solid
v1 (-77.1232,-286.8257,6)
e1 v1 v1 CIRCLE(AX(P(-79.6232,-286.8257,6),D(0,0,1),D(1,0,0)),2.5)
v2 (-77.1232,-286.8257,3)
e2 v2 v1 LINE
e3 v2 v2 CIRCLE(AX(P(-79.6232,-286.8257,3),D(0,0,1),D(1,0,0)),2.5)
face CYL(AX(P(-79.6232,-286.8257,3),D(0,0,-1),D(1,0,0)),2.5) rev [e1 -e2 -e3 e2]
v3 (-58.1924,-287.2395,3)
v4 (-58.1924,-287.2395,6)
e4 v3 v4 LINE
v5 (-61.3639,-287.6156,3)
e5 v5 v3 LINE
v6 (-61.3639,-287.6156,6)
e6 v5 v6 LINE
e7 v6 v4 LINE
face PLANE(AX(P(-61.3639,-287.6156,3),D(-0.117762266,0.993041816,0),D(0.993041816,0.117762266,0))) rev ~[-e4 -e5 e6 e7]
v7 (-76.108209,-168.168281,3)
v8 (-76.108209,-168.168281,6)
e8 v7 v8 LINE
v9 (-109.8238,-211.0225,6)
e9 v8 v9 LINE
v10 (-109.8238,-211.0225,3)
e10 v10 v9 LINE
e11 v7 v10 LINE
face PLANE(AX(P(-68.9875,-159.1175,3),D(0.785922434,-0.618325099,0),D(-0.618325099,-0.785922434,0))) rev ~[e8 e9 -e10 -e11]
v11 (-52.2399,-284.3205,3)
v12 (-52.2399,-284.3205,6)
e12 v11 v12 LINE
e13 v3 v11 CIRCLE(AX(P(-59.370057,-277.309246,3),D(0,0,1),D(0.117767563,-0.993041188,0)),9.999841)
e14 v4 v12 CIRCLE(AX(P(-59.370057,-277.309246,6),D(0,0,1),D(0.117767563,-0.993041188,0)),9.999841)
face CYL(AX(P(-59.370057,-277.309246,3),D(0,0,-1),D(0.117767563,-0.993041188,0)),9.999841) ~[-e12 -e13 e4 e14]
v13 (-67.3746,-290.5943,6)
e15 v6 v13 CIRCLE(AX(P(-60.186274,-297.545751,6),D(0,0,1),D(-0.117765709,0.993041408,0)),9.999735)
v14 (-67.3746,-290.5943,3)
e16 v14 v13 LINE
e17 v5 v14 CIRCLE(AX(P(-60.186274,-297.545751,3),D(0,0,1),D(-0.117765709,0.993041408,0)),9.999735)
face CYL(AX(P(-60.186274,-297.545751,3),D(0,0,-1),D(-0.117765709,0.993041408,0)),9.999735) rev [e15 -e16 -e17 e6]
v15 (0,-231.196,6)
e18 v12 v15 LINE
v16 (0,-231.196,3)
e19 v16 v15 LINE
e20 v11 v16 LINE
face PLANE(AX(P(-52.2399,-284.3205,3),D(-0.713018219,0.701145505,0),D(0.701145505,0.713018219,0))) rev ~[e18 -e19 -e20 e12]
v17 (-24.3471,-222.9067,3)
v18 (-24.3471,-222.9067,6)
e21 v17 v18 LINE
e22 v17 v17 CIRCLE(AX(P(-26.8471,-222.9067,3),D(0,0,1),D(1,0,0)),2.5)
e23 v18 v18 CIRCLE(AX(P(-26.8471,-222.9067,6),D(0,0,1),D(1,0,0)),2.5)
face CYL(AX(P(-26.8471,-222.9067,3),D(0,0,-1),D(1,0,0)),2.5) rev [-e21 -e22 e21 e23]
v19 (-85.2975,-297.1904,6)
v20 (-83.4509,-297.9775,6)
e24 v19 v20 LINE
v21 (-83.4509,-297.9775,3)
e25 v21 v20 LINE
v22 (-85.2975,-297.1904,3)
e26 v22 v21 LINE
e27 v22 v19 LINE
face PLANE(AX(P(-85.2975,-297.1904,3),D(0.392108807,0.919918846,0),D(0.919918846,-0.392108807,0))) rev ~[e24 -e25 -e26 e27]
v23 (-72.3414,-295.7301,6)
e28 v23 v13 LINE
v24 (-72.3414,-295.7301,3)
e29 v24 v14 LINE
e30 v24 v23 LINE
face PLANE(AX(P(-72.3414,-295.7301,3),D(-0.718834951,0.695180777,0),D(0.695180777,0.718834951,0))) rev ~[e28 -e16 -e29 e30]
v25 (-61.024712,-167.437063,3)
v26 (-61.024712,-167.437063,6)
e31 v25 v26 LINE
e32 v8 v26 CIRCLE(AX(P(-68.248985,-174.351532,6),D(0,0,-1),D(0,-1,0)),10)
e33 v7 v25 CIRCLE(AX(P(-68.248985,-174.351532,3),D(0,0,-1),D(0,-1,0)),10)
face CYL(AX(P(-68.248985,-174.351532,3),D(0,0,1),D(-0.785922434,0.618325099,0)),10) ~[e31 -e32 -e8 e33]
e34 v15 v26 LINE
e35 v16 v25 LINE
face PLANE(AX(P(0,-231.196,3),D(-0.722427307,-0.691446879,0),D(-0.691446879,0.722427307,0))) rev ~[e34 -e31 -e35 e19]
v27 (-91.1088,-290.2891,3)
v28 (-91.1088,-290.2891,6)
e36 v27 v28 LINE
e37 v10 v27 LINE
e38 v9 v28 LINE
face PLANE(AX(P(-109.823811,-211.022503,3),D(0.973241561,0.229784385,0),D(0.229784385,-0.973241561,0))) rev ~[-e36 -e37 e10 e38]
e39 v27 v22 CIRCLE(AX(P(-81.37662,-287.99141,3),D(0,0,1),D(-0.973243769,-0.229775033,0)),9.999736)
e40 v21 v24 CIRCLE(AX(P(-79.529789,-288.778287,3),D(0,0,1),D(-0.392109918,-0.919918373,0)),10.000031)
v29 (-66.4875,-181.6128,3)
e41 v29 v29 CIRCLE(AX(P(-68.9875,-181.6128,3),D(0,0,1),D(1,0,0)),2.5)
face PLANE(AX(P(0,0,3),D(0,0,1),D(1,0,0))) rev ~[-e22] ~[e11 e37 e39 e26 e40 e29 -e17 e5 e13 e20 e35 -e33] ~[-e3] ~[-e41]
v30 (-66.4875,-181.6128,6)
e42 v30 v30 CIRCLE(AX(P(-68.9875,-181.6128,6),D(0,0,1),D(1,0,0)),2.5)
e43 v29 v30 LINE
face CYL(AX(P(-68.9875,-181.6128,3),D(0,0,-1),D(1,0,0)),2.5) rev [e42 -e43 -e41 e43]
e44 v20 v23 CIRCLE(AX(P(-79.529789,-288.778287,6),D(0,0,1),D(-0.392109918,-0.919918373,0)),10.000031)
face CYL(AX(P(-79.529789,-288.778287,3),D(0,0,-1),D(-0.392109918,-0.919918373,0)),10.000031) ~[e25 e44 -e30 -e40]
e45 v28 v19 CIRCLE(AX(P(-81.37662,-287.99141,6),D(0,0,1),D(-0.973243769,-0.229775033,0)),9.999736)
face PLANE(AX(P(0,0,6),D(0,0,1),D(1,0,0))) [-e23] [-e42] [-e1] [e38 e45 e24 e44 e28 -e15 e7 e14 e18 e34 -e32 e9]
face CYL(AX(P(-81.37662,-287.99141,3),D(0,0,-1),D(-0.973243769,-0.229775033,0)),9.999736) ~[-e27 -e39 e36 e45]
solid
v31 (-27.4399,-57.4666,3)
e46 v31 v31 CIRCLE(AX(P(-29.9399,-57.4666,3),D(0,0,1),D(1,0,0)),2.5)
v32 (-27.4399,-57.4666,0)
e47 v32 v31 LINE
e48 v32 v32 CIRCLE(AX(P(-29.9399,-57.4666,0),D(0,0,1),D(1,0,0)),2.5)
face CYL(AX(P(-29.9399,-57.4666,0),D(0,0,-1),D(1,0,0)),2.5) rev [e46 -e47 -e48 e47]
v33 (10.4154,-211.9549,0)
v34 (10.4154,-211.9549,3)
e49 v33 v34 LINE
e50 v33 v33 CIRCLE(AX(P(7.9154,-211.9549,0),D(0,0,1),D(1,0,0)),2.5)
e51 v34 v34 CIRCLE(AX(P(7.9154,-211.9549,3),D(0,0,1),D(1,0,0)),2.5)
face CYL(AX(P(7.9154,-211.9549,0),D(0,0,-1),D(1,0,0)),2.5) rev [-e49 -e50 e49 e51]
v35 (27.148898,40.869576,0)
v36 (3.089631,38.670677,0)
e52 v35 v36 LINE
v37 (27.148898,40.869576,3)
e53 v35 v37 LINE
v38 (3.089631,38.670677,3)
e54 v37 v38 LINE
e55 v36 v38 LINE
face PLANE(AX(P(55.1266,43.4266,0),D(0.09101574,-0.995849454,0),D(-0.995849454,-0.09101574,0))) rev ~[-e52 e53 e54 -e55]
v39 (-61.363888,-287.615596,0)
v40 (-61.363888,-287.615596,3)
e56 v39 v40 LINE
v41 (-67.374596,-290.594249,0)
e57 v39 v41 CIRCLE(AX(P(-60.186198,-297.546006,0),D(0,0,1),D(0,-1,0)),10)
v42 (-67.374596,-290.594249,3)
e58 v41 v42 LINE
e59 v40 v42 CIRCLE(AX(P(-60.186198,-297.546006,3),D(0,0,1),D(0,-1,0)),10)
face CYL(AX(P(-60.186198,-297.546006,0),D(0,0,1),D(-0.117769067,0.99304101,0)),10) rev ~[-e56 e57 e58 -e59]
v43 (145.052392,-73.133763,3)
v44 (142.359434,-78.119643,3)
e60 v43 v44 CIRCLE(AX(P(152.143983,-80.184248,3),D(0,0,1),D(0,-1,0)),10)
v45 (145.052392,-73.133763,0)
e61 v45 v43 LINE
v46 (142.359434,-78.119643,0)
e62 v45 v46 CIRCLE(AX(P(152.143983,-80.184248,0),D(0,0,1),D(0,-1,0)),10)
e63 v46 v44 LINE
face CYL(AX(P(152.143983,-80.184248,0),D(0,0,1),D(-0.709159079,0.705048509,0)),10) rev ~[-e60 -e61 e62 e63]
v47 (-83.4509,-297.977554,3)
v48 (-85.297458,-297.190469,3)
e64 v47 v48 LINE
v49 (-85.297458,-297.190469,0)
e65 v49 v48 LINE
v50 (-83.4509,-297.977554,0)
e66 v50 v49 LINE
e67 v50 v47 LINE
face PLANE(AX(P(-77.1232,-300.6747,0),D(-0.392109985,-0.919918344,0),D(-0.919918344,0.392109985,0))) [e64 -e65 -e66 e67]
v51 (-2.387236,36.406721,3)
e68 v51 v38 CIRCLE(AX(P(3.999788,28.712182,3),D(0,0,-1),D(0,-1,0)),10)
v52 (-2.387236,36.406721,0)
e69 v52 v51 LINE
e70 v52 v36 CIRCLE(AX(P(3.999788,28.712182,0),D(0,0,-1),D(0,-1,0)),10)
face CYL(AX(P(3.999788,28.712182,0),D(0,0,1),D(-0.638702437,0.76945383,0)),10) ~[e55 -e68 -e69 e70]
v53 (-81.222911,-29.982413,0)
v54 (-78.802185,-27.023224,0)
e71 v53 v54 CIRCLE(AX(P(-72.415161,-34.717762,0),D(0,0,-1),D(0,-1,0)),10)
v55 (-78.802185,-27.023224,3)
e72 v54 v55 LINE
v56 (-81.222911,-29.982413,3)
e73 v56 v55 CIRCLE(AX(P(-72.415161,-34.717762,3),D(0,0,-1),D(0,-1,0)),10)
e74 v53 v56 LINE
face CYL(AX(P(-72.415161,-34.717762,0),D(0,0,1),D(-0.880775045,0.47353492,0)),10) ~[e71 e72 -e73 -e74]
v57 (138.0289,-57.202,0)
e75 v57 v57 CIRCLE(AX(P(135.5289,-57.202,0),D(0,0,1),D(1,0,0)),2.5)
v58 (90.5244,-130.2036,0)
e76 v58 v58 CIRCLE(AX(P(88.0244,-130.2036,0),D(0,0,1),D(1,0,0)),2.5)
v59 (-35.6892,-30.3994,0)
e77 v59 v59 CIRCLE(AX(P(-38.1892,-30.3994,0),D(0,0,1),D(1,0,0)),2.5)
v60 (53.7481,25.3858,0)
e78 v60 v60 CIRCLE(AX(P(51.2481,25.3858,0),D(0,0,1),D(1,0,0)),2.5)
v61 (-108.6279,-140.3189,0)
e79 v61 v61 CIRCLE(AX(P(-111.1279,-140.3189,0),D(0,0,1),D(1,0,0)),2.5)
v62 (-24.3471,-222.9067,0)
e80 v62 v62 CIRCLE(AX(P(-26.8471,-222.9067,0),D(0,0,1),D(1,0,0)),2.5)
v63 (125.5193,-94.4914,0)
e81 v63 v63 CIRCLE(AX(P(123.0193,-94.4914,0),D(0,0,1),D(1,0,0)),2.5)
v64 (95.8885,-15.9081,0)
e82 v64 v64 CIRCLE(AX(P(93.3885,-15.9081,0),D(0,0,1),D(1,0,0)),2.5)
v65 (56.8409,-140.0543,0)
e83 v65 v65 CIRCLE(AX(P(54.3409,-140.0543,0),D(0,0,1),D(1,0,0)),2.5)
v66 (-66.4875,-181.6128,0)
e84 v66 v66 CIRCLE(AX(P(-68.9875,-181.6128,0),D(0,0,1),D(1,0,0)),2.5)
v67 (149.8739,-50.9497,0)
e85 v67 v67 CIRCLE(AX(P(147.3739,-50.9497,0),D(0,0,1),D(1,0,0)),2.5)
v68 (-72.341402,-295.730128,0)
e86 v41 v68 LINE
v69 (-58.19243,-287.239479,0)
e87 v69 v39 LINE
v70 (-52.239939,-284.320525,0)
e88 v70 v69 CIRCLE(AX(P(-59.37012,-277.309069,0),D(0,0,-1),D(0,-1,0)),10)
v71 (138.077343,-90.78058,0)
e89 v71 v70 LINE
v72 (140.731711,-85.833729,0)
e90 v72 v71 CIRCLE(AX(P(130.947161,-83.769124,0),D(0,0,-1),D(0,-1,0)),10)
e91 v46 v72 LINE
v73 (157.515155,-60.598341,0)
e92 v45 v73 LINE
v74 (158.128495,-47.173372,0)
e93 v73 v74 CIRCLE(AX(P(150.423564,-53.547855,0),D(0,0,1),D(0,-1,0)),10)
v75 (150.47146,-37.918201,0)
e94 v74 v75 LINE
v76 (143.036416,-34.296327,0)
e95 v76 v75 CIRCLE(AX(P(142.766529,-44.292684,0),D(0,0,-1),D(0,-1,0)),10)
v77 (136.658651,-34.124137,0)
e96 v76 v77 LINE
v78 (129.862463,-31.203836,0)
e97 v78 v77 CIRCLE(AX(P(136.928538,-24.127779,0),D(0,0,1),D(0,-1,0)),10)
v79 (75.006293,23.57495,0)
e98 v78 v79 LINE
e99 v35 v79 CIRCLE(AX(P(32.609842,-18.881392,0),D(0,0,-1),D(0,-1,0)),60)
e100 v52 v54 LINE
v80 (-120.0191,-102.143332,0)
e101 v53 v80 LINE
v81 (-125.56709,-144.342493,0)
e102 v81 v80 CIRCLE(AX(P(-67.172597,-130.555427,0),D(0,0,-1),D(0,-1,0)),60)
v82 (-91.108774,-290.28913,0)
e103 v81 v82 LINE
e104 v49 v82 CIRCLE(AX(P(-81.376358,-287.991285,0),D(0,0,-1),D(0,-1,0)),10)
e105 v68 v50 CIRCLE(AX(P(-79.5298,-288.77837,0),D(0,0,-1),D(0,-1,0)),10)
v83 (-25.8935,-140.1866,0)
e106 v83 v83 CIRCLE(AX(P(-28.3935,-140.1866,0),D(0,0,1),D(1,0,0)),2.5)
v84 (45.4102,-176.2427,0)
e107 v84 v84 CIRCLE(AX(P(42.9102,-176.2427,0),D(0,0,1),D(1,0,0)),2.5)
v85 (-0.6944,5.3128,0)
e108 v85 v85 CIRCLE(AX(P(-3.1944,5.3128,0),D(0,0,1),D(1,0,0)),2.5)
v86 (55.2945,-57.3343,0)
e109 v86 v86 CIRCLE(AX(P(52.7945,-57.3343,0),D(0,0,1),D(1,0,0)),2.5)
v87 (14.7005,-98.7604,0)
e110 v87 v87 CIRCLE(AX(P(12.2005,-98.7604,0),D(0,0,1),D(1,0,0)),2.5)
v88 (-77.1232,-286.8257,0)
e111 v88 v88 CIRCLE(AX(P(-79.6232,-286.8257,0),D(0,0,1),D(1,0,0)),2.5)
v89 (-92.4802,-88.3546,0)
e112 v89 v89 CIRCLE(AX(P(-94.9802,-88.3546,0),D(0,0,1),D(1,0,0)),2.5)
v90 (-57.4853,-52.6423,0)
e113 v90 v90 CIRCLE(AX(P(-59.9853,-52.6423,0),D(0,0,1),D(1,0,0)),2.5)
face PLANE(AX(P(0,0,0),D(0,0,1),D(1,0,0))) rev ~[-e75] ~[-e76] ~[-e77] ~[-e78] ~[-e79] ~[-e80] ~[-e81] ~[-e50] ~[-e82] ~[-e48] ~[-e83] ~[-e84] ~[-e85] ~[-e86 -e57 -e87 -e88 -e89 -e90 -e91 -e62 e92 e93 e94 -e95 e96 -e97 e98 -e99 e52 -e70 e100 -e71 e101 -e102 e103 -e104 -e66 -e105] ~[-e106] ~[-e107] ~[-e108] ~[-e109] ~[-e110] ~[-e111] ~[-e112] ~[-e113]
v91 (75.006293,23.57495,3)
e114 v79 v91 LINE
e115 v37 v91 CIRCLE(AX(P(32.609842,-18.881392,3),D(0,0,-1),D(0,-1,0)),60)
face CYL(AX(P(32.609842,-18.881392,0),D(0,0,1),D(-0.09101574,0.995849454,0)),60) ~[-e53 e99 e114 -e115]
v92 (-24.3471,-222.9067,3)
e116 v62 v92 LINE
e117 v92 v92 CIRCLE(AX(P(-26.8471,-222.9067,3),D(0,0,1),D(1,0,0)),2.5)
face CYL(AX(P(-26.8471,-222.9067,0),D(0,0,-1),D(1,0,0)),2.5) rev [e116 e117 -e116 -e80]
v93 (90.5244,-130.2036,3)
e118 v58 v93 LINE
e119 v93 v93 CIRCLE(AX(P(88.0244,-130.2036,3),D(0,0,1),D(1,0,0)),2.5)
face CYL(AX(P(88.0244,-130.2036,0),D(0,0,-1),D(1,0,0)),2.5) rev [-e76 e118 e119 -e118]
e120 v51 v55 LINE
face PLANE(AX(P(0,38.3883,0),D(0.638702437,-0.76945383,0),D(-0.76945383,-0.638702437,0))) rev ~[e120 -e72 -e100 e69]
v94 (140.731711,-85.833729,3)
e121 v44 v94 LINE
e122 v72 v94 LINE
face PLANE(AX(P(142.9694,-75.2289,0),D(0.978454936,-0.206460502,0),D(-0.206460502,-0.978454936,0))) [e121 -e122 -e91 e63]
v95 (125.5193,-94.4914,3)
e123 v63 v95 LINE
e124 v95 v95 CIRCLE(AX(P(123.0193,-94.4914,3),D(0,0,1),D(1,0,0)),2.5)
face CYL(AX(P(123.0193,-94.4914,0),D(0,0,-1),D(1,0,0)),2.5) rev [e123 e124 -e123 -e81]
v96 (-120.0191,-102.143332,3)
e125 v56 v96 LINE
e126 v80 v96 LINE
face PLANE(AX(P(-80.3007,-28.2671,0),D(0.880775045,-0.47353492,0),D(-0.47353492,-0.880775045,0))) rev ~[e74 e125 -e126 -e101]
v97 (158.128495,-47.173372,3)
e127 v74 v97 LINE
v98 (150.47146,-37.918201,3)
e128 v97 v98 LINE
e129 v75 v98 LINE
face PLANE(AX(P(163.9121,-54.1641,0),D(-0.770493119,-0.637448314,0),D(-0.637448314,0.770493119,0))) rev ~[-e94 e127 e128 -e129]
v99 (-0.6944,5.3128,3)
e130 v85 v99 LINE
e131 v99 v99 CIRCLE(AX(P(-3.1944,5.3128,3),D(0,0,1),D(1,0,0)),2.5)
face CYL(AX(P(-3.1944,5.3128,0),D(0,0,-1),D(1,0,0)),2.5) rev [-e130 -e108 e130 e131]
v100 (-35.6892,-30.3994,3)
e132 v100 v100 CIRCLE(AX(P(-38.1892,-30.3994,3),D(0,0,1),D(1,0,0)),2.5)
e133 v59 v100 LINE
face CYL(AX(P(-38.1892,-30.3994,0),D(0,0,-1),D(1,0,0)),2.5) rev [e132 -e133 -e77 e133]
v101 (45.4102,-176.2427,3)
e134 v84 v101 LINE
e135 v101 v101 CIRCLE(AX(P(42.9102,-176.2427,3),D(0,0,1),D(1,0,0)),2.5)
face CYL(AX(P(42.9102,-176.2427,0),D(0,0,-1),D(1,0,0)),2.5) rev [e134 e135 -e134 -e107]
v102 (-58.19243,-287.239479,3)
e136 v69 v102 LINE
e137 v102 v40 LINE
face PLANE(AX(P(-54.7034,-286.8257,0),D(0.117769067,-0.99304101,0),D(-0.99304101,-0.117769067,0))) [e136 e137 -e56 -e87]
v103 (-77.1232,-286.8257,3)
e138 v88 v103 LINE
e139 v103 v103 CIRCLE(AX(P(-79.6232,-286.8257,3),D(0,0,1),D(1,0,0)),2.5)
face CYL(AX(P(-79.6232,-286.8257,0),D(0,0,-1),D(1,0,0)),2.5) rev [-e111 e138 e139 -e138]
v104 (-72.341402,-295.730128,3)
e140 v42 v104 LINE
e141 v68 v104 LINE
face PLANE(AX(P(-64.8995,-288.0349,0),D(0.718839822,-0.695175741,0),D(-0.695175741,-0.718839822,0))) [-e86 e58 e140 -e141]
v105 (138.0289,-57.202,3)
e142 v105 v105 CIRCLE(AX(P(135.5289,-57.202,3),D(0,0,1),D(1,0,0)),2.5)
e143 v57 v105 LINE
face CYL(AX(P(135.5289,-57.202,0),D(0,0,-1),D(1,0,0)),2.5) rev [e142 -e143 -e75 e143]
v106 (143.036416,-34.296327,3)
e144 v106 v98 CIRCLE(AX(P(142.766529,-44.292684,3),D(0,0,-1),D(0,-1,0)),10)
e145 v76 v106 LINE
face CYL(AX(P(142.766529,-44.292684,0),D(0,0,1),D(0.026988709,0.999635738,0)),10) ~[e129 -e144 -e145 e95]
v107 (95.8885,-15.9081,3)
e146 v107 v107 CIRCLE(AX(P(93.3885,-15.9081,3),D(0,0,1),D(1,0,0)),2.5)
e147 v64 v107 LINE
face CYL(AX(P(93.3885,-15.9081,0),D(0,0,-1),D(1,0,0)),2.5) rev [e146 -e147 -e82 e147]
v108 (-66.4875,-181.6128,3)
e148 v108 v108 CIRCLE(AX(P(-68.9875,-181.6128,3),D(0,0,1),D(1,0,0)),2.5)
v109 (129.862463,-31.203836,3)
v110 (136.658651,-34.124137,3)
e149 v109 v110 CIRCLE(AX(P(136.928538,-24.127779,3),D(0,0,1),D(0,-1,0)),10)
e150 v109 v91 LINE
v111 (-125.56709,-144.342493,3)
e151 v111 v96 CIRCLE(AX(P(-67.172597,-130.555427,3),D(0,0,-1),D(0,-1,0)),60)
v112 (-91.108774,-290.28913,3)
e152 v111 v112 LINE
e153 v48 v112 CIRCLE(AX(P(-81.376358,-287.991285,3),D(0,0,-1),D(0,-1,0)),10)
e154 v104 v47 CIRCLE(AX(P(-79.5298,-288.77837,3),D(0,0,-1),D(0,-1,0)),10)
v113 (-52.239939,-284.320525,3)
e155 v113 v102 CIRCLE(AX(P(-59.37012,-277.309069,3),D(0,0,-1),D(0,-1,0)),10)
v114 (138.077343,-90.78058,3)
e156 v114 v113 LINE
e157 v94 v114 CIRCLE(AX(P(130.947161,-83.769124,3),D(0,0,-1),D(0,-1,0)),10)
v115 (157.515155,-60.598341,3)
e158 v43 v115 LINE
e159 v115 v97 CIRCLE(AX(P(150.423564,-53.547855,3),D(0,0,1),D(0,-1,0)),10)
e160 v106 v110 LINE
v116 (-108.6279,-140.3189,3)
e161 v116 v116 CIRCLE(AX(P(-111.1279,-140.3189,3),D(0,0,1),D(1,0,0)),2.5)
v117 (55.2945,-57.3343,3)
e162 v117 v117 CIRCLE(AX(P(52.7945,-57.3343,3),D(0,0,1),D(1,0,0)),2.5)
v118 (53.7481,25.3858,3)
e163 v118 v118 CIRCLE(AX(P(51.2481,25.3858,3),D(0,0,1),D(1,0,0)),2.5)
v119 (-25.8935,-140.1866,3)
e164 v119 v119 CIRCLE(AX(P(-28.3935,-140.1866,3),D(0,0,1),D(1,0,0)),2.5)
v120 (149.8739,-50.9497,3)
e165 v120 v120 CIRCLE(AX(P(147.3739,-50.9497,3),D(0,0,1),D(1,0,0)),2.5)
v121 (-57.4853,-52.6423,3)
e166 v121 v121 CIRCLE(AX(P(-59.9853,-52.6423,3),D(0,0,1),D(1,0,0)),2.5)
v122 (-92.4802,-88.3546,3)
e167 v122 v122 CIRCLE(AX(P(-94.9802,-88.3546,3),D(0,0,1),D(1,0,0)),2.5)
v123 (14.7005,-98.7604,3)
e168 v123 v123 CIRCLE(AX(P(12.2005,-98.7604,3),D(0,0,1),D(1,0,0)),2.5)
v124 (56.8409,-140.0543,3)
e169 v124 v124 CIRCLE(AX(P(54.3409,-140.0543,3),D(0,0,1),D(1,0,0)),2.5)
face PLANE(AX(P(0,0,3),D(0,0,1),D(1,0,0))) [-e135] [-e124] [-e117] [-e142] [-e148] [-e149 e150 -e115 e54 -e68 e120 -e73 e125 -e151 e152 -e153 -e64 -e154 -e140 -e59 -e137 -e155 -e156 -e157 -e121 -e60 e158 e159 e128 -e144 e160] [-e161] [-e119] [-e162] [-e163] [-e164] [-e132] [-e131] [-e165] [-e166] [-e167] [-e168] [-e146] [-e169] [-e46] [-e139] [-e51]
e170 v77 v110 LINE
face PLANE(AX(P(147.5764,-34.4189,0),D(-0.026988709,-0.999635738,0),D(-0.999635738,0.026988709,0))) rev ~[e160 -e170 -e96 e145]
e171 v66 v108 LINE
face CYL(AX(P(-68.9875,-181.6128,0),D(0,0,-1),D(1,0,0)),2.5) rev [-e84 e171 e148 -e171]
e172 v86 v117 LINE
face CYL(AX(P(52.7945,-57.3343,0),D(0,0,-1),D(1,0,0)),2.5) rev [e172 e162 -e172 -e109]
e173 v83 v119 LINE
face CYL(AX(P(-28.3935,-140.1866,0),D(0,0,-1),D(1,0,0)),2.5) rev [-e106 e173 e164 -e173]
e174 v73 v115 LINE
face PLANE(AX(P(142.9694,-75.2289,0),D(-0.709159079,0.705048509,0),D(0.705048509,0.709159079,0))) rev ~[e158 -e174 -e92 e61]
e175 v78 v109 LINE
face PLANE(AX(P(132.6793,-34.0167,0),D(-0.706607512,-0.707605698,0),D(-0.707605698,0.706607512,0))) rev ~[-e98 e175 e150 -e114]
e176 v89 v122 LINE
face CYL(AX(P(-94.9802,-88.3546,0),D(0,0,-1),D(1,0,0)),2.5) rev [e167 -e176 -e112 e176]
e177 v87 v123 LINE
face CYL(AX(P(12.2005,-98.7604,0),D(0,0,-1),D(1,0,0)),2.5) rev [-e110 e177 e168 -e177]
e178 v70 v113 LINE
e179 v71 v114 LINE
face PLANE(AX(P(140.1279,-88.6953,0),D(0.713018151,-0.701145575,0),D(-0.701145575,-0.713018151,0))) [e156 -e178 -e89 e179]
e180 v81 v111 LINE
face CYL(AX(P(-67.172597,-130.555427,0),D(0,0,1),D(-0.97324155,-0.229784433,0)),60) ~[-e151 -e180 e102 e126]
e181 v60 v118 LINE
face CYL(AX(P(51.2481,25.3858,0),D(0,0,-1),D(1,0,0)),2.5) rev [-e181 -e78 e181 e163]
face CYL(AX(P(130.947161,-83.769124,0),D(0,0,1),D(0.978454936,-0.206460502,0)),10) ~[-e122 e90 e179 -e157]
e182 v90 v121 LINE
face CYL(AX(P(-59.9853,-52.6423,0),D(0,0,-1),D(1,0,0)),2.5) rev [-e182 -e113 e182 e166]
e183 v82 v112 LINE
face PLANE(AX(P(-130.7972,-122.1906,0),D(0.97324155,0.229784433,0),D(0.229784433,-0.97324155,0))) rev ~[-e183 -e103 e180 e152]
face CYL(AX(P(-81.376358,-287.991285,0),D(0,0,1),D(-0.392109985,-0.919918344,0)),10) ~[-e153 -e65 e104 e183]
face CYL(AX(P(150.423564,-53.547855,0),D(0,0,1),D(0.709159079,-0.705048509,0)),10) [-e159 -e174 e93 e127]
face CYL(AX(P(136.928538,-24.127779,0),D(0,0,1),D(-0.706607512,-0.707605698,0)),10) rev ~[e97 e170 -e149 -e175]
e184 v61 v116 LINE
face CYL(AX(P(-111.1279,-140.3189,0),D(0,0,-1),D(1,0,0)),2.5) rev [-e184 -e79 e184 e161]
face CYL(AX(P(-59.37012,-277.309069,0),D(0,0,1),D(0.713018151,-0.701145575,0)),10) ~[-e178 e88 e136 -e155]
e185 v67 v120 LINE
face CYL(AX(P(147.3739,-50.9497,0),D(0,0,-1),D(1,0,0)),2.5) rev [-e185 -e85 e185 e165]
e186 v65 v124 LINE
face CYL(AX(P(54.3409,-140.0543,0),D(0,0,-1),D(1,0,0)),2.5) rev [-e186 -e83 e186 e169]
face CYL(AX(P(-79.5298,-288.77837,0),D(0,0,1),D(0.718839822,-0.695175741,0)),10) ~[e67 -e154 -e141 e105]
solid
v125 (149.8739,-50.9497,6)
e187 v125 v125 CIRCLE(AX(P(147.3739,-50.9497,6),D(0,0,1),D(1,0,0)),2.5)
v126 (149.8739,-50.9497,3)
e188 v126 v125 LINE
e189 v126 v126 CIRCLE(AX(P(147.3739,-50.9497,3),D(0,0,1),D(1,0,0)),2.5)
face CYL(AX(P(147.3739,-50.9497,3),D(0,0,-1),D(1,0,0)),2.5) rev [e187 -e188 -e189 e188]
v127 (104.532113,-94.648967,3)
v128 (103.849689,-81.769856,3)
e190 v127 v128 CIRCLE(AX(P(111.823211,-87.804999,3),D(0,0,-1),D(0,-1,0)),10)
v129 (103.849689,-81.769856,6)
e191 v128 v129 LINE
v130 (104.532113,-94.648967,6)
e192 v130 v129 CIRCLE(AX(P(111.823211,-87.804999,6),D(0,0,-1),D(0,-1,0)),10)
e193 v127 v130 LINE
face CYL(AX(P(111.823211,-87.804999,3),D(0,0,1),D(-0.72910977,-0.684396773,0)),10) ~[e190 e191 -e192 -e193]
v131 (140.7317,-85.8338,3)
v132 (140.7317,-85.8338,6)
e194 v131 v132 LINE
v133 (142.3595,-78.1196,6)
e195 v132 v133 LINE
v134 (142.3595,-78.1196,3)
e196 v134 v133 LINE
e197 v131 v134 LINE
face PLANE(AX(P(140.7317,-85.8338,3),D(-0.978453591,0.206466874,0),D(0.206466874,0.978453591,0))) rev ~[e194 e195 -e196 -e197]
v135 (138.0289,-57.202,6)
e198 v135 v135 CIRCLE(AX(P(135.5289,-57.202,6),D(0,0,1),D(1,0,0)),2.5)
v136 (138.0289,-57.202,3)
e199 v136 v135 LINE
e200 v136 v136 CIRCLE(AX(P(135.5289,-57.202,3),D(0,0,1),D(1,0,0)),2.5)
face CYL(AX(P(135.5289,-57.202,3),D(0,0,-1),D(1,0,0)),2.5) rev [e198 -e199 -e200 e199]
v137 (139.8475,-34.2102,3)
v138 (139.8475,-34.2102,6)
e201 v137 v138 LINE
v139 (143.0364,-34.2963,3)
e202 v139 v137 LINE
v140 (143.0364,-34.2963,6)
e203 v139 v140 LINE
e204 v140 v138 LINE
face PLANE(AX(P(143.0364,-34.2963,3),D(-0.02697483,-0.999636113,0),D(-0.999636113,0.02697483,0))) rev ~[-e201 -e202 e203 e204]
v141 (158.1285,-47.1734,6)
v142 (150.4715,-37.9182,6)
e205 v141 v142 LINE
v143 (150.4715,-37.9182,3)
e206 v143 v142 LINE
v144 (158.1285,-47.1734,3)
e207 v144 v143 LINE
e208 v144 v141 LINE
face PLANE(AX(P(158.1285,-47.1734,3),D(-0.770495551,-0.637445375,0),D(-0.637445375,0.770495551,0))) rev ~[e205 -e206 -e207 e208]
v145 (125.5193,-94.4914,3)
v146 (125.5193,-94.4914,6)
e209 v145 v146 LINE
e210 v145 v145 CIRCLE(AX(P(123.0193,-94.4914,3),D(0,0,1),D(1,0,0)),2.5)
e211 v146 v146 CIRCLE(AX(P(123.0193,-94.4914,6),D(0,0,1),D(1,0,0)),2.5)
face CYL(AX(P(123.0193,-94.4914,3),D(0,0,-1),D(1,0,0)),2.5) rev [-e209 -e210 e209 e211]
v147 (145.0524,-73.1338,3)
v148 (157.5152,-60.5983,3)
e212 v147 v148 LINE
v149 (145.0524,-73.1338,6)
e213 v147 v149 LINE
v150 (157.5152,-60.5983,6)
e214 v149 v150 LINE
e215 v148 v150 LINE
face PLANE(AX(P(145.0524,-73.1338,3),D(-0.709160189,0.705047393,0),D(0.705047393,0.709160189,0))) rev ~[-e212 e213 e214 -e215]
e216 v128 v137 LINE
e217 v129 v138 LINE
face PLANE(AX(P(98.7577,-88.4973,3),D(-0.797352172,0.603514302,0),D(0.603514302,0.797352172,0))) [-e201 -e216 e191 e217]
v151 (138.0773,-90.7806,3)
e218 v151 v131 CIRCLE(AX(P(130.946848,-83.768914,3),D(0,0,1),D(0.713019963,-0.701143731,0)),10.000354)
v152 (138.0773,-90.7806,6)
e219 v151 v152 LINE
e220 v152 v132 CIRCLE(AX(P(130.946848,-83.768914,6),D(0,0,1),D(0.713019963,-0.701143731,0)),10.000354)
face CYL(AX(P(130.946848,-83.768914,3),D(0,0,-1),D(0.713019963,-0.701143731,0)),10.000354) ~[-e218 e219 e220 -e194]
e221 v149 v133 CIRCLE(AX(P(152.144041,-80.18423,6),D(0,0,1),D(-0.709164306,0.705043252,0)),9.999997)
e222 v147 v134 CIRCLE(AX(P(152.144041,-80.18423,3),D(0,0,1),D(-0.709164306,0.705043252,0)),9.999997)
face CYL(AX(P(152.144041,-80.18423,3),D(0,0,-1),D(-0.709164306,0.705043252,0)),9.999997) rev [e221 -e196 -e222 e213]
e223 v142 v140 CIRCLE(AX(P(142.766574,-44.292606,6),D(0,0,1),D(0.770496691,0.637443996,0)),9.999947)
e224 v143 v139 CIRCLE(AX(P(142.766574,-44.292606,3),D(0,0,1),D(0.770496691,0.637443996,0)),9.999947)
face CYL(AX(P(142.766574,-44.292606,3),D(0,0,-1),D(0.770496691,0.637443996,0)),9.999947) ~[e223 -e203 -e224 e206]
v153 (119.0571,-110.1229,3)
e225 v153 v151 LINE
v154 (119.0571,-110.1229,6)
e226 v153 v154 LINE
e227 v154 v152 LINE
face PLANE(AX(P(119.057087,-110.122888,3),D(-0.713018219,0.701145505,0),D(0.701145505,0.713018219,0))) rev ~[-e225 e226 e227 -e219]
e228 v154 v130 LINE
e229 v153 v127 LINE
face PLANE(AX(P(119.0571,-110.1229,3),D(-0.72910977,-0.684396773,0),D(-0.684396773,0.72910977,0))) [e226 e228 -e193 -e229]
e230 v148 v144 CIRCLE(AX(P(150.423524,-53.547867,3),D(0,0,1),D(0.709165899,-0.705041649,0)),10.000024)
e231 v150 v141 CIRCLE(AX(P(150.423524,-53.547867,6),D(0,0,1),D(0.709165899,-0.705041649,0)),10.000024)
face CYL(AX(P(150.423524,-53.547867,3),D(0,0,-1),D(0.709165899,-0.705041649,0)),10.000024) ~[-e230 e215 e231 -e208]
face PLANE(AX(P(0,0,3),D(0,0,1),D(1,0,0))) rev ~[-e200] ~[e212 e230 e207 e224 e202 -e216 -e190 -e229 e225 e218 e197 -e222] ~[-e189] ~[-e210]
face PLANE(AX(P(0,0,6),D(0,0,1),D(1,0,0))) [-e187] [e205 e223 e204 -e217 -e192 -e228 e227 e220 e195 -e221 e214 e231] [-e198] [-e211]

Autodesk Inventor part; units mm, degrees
ref_plane "YZ Plane" through (0, 0, 0) normal (1, 0, 0) x (0, 1, 0)
ref_plane "XZ Plane" through (0, 0, 0) normal (0, 1, 0) x (-1, 0, 0)
ref_plane "XY Plane" through (0, 0, 0) normal (0, 0, 1) x (1, 0, 0)
sketch "Sketch1" plane through (0, 0, 0) normal (0, 0, 1) x (1, 0, 0)
  line L0 (163.9121, -54.1641) -> (147.5764, -34.4189)
  line L1 (147.5764, -34.4189) -> (132.6793, -34.0167)
  line L2 (132.6793, -34.0167) -> (55.1266, 43.4266)
  line L3 (55.1266, 43.4266) -> (0, 38.3883)
  line L4 (0, 38.3883) -> (-80.3007, -28.2671)
  line L5 (-130.7972, -122.1906) -> (-89.9473, -295.2085)
  line L6 (-80.3007, -28.2671) -> (-130.7972, -122.1906)
  circle A0 centre (-79.6232, -286.8257) radius 2.5 projected
  circle A1 centre (7.9154, -211.9549) radius 2.5 projected
  line L7 (142.9694, -75.2289) -> (163.9121, -54.1641)
  line L8 (142.9694, -75.2289) -> (140.1279, -88.6953)
  line L9 (140.1279, -88.6953) -> (-54.7034, -286.8257)
  line L10 (-54.7034, -286.8257) -> (-64.8995, -288.0349)
  line L11 (-64.8995, -288.0349) -> (-77.1232, -300.6747)
  line L12 (-77.1232, -300.6747) -> (-89.9473, -295.2085)
  circle A2 centre (42.9102, -176.2427) radius 2.5 projected
  circle A3 centre (88.0244, -130.2036) radius 2.5 projected
  circle A4 centre (123.0193, -94.4914) radius 2.5 projected
  circle A5 centre (135.5289, -57.202) radius 2.5 projected
  circle A6 centre (12.2005, -98.7604) radius 2.5 projected
  circle A7 centre (-28.3935, -140.1866) radius 2.5 projected
  circle A8 centre (-68.9875, -181.6128) radius 2.5 projected
  circle A9 centre (52.7945, -57.3343) radius 2.5 projected
  circle A10 centre (93.3885, -15.9081) radius 2.5 projected
  circle A11 centre (-111.1279, -140.3189) radius 2.5 projected
  circle A12 centre (-94.9802, -88.3546) radius 2.5 projected
  circle A13 centre (-59.9853, -52.6423) radius 2.5 projected
  circle A14 centre (-38.1892, -30.3994) radius 2.5 projected
  circle A15 centre (-3.1944, 5.3128) radius 2.5 projected
  circle A16 centre (51.2481, 25.3858) radius 2.5 projected
  circle A17 centre (-29.9399, -57.4666) radius 2.5 projected
  circle A18 centre (54.3409, -140.0543) radius 2.5 projected
  circle A19 centre (147.3739, -50.9497) radius 2.5 projected
  circle A20 centre (-26.8471, -222.9067) radius 2.5 projected
  point P0 (0, 0)
extrude "Extrusion1" add sketch "Sketch1" along normal blind 3
fillet "Fillet1" radius 60 2 edges at (55.1266, 43.4266, 1.5) (-130.7972, -122.1906, 1.5)
fillet "Fillet1" radius 10 11 edges at (-80.3007, -28.2671, 1.5) (0, 38.3883, 1.5) (147.5764, -34.4189, 1.5) (132.6793, -34.0167, 1.5) (163.9121, -54.1641, 1.5) (142.9694, -75.2289, 1.5) (140.1279, -88.6953, 1.5) (-54.7034, -286.8257, 1.5) (-64.8995, -288.0349, 1.5) (-77.1232, -300.6747, 1.5) (-89.9473, -295.2085, 1.5)
sketch "Sketch2" plane through (0, 0, 3) normal (0, 0, 1) x (1, 0, 0)
  line L0 (-125.5671, -144.3425) -> (-91.1088, -290.2891) projected
  arc A0 (-91.1088, -290.2891) -> (-85.2975, -297.1904) centre (-81.3764, -287.9913) ccw projected
  arc A1 (-83.4509, -297.9775) -> (-72.3414, -295.7301) centre (-79.5298, -288.7784) ccw projected
  line L1 (-85.2975, -297.1904) -> (-83.4509, -297.9775) projected
  line L2 (-72.3414, -295.7301) -> (-67.3746, -290.5943) projected
  arc A2 (-61.3639, -287.6156) -> (-67.3746, -290.5943) centre (-60.1862, -297.546) ccw projected
  line L3 (-61.3639, -287.6156) -> (-58.1924, -287.2395) projected
  arc A3 (-58.1924, -287.2395) -> (-52.2399, -284.3205) centre (-59.3701, -277.3091) ccw projected
  line L4 (-52.2399, -284.3205) -> (138.0773, -90.7806) projected
  line L5 (-52.2399, -284.3205) -> (138.0773, -90.7806) projected
  line L6 (0, -231.196) -> (-68.9875, -159.1175)
  circle A4 centre (-68.9875, -181.6128) radius 2.5 projected
  line L7 (-68.9875, -159.1175) -> (-109.8238, -211.0225)
  circle A5 centre (-26.8471, -222.9067) radius 2.5 projected
  circle A6 centre (-79.6232, -286.8257) radius 2.5 projected
  point P0 (0, 0)
extrude "Extrusion2" add sketch "Sketch2" along normal blind 3 separate body
fillet "Fillet2" radius 10 1 edges at (-68.9875, -159.1175, 4.5)
sketch "Sketch3" plane through (0, 0, 3) normal (0, 0, 1) x (1, 0, 0)
  line L0 (129.8625, -31.2039) -> (75.0063, 23.575) projected
  arc A0 (129.8625, -31.2039) -> (136.6587, -34.1242) centre (136.9286, -24.1278) ccw projected
  line L1 (143.0364, -34.2963) -> (136.6587, -34.1242) projected
  arc A1 (150.4715, -37.9182) -> (143.0364, -34.2963) centre (142.7665, -44.2927) ccw projected
  line L2 (158.1285, -47.1734) -> (150.4715, -37.9182) projected
  arc A2 (157.5152, -60.5983) -> (158.1285, -47.1734) centre (150.4236, -53.5479) ccw projected
  line L3 (145.0524, -73.1338) -> (157.5152, -60.5983) projected
  arc A3 (145.0524, -73.1338) -> (142.3595, -78.1196) centre (152.144, -80.1842) ccw projected
  line L4 (140.7317, -85.8338) -> (142.3595, -78.1196) projected
  arc A4 (138.0773, -90.7806) -> (140.7317, -85.8338) centre (130.9471, -83.7691) ccw projected
  line L5 (-52.2399, -284.3205) -> (138.0773, -90.7806) projected
  line L6 (119.0571, -110.1229) -> (98.7577, -88.4973)
  line L7 (98.7577, -88.4973) -> (139.8475, -34.2102)
  circle A5 centre (123.0193, -94.4914) radius 2.5 projected
  circle A6 centre (135.5289, -57.202) radius 2.5 projected
  circle A7 centre (147.3739, -50.9497) radius 2.5 projected
  point P0 (0, 0)
extrude "Extrusion3" add sketch "Sketch3" along normal blind 3 separate body
fillet "Fillet3" radius 10 1 edges at (98.7577, -88.4973, 4.5)
properties part number "PlateRight"
